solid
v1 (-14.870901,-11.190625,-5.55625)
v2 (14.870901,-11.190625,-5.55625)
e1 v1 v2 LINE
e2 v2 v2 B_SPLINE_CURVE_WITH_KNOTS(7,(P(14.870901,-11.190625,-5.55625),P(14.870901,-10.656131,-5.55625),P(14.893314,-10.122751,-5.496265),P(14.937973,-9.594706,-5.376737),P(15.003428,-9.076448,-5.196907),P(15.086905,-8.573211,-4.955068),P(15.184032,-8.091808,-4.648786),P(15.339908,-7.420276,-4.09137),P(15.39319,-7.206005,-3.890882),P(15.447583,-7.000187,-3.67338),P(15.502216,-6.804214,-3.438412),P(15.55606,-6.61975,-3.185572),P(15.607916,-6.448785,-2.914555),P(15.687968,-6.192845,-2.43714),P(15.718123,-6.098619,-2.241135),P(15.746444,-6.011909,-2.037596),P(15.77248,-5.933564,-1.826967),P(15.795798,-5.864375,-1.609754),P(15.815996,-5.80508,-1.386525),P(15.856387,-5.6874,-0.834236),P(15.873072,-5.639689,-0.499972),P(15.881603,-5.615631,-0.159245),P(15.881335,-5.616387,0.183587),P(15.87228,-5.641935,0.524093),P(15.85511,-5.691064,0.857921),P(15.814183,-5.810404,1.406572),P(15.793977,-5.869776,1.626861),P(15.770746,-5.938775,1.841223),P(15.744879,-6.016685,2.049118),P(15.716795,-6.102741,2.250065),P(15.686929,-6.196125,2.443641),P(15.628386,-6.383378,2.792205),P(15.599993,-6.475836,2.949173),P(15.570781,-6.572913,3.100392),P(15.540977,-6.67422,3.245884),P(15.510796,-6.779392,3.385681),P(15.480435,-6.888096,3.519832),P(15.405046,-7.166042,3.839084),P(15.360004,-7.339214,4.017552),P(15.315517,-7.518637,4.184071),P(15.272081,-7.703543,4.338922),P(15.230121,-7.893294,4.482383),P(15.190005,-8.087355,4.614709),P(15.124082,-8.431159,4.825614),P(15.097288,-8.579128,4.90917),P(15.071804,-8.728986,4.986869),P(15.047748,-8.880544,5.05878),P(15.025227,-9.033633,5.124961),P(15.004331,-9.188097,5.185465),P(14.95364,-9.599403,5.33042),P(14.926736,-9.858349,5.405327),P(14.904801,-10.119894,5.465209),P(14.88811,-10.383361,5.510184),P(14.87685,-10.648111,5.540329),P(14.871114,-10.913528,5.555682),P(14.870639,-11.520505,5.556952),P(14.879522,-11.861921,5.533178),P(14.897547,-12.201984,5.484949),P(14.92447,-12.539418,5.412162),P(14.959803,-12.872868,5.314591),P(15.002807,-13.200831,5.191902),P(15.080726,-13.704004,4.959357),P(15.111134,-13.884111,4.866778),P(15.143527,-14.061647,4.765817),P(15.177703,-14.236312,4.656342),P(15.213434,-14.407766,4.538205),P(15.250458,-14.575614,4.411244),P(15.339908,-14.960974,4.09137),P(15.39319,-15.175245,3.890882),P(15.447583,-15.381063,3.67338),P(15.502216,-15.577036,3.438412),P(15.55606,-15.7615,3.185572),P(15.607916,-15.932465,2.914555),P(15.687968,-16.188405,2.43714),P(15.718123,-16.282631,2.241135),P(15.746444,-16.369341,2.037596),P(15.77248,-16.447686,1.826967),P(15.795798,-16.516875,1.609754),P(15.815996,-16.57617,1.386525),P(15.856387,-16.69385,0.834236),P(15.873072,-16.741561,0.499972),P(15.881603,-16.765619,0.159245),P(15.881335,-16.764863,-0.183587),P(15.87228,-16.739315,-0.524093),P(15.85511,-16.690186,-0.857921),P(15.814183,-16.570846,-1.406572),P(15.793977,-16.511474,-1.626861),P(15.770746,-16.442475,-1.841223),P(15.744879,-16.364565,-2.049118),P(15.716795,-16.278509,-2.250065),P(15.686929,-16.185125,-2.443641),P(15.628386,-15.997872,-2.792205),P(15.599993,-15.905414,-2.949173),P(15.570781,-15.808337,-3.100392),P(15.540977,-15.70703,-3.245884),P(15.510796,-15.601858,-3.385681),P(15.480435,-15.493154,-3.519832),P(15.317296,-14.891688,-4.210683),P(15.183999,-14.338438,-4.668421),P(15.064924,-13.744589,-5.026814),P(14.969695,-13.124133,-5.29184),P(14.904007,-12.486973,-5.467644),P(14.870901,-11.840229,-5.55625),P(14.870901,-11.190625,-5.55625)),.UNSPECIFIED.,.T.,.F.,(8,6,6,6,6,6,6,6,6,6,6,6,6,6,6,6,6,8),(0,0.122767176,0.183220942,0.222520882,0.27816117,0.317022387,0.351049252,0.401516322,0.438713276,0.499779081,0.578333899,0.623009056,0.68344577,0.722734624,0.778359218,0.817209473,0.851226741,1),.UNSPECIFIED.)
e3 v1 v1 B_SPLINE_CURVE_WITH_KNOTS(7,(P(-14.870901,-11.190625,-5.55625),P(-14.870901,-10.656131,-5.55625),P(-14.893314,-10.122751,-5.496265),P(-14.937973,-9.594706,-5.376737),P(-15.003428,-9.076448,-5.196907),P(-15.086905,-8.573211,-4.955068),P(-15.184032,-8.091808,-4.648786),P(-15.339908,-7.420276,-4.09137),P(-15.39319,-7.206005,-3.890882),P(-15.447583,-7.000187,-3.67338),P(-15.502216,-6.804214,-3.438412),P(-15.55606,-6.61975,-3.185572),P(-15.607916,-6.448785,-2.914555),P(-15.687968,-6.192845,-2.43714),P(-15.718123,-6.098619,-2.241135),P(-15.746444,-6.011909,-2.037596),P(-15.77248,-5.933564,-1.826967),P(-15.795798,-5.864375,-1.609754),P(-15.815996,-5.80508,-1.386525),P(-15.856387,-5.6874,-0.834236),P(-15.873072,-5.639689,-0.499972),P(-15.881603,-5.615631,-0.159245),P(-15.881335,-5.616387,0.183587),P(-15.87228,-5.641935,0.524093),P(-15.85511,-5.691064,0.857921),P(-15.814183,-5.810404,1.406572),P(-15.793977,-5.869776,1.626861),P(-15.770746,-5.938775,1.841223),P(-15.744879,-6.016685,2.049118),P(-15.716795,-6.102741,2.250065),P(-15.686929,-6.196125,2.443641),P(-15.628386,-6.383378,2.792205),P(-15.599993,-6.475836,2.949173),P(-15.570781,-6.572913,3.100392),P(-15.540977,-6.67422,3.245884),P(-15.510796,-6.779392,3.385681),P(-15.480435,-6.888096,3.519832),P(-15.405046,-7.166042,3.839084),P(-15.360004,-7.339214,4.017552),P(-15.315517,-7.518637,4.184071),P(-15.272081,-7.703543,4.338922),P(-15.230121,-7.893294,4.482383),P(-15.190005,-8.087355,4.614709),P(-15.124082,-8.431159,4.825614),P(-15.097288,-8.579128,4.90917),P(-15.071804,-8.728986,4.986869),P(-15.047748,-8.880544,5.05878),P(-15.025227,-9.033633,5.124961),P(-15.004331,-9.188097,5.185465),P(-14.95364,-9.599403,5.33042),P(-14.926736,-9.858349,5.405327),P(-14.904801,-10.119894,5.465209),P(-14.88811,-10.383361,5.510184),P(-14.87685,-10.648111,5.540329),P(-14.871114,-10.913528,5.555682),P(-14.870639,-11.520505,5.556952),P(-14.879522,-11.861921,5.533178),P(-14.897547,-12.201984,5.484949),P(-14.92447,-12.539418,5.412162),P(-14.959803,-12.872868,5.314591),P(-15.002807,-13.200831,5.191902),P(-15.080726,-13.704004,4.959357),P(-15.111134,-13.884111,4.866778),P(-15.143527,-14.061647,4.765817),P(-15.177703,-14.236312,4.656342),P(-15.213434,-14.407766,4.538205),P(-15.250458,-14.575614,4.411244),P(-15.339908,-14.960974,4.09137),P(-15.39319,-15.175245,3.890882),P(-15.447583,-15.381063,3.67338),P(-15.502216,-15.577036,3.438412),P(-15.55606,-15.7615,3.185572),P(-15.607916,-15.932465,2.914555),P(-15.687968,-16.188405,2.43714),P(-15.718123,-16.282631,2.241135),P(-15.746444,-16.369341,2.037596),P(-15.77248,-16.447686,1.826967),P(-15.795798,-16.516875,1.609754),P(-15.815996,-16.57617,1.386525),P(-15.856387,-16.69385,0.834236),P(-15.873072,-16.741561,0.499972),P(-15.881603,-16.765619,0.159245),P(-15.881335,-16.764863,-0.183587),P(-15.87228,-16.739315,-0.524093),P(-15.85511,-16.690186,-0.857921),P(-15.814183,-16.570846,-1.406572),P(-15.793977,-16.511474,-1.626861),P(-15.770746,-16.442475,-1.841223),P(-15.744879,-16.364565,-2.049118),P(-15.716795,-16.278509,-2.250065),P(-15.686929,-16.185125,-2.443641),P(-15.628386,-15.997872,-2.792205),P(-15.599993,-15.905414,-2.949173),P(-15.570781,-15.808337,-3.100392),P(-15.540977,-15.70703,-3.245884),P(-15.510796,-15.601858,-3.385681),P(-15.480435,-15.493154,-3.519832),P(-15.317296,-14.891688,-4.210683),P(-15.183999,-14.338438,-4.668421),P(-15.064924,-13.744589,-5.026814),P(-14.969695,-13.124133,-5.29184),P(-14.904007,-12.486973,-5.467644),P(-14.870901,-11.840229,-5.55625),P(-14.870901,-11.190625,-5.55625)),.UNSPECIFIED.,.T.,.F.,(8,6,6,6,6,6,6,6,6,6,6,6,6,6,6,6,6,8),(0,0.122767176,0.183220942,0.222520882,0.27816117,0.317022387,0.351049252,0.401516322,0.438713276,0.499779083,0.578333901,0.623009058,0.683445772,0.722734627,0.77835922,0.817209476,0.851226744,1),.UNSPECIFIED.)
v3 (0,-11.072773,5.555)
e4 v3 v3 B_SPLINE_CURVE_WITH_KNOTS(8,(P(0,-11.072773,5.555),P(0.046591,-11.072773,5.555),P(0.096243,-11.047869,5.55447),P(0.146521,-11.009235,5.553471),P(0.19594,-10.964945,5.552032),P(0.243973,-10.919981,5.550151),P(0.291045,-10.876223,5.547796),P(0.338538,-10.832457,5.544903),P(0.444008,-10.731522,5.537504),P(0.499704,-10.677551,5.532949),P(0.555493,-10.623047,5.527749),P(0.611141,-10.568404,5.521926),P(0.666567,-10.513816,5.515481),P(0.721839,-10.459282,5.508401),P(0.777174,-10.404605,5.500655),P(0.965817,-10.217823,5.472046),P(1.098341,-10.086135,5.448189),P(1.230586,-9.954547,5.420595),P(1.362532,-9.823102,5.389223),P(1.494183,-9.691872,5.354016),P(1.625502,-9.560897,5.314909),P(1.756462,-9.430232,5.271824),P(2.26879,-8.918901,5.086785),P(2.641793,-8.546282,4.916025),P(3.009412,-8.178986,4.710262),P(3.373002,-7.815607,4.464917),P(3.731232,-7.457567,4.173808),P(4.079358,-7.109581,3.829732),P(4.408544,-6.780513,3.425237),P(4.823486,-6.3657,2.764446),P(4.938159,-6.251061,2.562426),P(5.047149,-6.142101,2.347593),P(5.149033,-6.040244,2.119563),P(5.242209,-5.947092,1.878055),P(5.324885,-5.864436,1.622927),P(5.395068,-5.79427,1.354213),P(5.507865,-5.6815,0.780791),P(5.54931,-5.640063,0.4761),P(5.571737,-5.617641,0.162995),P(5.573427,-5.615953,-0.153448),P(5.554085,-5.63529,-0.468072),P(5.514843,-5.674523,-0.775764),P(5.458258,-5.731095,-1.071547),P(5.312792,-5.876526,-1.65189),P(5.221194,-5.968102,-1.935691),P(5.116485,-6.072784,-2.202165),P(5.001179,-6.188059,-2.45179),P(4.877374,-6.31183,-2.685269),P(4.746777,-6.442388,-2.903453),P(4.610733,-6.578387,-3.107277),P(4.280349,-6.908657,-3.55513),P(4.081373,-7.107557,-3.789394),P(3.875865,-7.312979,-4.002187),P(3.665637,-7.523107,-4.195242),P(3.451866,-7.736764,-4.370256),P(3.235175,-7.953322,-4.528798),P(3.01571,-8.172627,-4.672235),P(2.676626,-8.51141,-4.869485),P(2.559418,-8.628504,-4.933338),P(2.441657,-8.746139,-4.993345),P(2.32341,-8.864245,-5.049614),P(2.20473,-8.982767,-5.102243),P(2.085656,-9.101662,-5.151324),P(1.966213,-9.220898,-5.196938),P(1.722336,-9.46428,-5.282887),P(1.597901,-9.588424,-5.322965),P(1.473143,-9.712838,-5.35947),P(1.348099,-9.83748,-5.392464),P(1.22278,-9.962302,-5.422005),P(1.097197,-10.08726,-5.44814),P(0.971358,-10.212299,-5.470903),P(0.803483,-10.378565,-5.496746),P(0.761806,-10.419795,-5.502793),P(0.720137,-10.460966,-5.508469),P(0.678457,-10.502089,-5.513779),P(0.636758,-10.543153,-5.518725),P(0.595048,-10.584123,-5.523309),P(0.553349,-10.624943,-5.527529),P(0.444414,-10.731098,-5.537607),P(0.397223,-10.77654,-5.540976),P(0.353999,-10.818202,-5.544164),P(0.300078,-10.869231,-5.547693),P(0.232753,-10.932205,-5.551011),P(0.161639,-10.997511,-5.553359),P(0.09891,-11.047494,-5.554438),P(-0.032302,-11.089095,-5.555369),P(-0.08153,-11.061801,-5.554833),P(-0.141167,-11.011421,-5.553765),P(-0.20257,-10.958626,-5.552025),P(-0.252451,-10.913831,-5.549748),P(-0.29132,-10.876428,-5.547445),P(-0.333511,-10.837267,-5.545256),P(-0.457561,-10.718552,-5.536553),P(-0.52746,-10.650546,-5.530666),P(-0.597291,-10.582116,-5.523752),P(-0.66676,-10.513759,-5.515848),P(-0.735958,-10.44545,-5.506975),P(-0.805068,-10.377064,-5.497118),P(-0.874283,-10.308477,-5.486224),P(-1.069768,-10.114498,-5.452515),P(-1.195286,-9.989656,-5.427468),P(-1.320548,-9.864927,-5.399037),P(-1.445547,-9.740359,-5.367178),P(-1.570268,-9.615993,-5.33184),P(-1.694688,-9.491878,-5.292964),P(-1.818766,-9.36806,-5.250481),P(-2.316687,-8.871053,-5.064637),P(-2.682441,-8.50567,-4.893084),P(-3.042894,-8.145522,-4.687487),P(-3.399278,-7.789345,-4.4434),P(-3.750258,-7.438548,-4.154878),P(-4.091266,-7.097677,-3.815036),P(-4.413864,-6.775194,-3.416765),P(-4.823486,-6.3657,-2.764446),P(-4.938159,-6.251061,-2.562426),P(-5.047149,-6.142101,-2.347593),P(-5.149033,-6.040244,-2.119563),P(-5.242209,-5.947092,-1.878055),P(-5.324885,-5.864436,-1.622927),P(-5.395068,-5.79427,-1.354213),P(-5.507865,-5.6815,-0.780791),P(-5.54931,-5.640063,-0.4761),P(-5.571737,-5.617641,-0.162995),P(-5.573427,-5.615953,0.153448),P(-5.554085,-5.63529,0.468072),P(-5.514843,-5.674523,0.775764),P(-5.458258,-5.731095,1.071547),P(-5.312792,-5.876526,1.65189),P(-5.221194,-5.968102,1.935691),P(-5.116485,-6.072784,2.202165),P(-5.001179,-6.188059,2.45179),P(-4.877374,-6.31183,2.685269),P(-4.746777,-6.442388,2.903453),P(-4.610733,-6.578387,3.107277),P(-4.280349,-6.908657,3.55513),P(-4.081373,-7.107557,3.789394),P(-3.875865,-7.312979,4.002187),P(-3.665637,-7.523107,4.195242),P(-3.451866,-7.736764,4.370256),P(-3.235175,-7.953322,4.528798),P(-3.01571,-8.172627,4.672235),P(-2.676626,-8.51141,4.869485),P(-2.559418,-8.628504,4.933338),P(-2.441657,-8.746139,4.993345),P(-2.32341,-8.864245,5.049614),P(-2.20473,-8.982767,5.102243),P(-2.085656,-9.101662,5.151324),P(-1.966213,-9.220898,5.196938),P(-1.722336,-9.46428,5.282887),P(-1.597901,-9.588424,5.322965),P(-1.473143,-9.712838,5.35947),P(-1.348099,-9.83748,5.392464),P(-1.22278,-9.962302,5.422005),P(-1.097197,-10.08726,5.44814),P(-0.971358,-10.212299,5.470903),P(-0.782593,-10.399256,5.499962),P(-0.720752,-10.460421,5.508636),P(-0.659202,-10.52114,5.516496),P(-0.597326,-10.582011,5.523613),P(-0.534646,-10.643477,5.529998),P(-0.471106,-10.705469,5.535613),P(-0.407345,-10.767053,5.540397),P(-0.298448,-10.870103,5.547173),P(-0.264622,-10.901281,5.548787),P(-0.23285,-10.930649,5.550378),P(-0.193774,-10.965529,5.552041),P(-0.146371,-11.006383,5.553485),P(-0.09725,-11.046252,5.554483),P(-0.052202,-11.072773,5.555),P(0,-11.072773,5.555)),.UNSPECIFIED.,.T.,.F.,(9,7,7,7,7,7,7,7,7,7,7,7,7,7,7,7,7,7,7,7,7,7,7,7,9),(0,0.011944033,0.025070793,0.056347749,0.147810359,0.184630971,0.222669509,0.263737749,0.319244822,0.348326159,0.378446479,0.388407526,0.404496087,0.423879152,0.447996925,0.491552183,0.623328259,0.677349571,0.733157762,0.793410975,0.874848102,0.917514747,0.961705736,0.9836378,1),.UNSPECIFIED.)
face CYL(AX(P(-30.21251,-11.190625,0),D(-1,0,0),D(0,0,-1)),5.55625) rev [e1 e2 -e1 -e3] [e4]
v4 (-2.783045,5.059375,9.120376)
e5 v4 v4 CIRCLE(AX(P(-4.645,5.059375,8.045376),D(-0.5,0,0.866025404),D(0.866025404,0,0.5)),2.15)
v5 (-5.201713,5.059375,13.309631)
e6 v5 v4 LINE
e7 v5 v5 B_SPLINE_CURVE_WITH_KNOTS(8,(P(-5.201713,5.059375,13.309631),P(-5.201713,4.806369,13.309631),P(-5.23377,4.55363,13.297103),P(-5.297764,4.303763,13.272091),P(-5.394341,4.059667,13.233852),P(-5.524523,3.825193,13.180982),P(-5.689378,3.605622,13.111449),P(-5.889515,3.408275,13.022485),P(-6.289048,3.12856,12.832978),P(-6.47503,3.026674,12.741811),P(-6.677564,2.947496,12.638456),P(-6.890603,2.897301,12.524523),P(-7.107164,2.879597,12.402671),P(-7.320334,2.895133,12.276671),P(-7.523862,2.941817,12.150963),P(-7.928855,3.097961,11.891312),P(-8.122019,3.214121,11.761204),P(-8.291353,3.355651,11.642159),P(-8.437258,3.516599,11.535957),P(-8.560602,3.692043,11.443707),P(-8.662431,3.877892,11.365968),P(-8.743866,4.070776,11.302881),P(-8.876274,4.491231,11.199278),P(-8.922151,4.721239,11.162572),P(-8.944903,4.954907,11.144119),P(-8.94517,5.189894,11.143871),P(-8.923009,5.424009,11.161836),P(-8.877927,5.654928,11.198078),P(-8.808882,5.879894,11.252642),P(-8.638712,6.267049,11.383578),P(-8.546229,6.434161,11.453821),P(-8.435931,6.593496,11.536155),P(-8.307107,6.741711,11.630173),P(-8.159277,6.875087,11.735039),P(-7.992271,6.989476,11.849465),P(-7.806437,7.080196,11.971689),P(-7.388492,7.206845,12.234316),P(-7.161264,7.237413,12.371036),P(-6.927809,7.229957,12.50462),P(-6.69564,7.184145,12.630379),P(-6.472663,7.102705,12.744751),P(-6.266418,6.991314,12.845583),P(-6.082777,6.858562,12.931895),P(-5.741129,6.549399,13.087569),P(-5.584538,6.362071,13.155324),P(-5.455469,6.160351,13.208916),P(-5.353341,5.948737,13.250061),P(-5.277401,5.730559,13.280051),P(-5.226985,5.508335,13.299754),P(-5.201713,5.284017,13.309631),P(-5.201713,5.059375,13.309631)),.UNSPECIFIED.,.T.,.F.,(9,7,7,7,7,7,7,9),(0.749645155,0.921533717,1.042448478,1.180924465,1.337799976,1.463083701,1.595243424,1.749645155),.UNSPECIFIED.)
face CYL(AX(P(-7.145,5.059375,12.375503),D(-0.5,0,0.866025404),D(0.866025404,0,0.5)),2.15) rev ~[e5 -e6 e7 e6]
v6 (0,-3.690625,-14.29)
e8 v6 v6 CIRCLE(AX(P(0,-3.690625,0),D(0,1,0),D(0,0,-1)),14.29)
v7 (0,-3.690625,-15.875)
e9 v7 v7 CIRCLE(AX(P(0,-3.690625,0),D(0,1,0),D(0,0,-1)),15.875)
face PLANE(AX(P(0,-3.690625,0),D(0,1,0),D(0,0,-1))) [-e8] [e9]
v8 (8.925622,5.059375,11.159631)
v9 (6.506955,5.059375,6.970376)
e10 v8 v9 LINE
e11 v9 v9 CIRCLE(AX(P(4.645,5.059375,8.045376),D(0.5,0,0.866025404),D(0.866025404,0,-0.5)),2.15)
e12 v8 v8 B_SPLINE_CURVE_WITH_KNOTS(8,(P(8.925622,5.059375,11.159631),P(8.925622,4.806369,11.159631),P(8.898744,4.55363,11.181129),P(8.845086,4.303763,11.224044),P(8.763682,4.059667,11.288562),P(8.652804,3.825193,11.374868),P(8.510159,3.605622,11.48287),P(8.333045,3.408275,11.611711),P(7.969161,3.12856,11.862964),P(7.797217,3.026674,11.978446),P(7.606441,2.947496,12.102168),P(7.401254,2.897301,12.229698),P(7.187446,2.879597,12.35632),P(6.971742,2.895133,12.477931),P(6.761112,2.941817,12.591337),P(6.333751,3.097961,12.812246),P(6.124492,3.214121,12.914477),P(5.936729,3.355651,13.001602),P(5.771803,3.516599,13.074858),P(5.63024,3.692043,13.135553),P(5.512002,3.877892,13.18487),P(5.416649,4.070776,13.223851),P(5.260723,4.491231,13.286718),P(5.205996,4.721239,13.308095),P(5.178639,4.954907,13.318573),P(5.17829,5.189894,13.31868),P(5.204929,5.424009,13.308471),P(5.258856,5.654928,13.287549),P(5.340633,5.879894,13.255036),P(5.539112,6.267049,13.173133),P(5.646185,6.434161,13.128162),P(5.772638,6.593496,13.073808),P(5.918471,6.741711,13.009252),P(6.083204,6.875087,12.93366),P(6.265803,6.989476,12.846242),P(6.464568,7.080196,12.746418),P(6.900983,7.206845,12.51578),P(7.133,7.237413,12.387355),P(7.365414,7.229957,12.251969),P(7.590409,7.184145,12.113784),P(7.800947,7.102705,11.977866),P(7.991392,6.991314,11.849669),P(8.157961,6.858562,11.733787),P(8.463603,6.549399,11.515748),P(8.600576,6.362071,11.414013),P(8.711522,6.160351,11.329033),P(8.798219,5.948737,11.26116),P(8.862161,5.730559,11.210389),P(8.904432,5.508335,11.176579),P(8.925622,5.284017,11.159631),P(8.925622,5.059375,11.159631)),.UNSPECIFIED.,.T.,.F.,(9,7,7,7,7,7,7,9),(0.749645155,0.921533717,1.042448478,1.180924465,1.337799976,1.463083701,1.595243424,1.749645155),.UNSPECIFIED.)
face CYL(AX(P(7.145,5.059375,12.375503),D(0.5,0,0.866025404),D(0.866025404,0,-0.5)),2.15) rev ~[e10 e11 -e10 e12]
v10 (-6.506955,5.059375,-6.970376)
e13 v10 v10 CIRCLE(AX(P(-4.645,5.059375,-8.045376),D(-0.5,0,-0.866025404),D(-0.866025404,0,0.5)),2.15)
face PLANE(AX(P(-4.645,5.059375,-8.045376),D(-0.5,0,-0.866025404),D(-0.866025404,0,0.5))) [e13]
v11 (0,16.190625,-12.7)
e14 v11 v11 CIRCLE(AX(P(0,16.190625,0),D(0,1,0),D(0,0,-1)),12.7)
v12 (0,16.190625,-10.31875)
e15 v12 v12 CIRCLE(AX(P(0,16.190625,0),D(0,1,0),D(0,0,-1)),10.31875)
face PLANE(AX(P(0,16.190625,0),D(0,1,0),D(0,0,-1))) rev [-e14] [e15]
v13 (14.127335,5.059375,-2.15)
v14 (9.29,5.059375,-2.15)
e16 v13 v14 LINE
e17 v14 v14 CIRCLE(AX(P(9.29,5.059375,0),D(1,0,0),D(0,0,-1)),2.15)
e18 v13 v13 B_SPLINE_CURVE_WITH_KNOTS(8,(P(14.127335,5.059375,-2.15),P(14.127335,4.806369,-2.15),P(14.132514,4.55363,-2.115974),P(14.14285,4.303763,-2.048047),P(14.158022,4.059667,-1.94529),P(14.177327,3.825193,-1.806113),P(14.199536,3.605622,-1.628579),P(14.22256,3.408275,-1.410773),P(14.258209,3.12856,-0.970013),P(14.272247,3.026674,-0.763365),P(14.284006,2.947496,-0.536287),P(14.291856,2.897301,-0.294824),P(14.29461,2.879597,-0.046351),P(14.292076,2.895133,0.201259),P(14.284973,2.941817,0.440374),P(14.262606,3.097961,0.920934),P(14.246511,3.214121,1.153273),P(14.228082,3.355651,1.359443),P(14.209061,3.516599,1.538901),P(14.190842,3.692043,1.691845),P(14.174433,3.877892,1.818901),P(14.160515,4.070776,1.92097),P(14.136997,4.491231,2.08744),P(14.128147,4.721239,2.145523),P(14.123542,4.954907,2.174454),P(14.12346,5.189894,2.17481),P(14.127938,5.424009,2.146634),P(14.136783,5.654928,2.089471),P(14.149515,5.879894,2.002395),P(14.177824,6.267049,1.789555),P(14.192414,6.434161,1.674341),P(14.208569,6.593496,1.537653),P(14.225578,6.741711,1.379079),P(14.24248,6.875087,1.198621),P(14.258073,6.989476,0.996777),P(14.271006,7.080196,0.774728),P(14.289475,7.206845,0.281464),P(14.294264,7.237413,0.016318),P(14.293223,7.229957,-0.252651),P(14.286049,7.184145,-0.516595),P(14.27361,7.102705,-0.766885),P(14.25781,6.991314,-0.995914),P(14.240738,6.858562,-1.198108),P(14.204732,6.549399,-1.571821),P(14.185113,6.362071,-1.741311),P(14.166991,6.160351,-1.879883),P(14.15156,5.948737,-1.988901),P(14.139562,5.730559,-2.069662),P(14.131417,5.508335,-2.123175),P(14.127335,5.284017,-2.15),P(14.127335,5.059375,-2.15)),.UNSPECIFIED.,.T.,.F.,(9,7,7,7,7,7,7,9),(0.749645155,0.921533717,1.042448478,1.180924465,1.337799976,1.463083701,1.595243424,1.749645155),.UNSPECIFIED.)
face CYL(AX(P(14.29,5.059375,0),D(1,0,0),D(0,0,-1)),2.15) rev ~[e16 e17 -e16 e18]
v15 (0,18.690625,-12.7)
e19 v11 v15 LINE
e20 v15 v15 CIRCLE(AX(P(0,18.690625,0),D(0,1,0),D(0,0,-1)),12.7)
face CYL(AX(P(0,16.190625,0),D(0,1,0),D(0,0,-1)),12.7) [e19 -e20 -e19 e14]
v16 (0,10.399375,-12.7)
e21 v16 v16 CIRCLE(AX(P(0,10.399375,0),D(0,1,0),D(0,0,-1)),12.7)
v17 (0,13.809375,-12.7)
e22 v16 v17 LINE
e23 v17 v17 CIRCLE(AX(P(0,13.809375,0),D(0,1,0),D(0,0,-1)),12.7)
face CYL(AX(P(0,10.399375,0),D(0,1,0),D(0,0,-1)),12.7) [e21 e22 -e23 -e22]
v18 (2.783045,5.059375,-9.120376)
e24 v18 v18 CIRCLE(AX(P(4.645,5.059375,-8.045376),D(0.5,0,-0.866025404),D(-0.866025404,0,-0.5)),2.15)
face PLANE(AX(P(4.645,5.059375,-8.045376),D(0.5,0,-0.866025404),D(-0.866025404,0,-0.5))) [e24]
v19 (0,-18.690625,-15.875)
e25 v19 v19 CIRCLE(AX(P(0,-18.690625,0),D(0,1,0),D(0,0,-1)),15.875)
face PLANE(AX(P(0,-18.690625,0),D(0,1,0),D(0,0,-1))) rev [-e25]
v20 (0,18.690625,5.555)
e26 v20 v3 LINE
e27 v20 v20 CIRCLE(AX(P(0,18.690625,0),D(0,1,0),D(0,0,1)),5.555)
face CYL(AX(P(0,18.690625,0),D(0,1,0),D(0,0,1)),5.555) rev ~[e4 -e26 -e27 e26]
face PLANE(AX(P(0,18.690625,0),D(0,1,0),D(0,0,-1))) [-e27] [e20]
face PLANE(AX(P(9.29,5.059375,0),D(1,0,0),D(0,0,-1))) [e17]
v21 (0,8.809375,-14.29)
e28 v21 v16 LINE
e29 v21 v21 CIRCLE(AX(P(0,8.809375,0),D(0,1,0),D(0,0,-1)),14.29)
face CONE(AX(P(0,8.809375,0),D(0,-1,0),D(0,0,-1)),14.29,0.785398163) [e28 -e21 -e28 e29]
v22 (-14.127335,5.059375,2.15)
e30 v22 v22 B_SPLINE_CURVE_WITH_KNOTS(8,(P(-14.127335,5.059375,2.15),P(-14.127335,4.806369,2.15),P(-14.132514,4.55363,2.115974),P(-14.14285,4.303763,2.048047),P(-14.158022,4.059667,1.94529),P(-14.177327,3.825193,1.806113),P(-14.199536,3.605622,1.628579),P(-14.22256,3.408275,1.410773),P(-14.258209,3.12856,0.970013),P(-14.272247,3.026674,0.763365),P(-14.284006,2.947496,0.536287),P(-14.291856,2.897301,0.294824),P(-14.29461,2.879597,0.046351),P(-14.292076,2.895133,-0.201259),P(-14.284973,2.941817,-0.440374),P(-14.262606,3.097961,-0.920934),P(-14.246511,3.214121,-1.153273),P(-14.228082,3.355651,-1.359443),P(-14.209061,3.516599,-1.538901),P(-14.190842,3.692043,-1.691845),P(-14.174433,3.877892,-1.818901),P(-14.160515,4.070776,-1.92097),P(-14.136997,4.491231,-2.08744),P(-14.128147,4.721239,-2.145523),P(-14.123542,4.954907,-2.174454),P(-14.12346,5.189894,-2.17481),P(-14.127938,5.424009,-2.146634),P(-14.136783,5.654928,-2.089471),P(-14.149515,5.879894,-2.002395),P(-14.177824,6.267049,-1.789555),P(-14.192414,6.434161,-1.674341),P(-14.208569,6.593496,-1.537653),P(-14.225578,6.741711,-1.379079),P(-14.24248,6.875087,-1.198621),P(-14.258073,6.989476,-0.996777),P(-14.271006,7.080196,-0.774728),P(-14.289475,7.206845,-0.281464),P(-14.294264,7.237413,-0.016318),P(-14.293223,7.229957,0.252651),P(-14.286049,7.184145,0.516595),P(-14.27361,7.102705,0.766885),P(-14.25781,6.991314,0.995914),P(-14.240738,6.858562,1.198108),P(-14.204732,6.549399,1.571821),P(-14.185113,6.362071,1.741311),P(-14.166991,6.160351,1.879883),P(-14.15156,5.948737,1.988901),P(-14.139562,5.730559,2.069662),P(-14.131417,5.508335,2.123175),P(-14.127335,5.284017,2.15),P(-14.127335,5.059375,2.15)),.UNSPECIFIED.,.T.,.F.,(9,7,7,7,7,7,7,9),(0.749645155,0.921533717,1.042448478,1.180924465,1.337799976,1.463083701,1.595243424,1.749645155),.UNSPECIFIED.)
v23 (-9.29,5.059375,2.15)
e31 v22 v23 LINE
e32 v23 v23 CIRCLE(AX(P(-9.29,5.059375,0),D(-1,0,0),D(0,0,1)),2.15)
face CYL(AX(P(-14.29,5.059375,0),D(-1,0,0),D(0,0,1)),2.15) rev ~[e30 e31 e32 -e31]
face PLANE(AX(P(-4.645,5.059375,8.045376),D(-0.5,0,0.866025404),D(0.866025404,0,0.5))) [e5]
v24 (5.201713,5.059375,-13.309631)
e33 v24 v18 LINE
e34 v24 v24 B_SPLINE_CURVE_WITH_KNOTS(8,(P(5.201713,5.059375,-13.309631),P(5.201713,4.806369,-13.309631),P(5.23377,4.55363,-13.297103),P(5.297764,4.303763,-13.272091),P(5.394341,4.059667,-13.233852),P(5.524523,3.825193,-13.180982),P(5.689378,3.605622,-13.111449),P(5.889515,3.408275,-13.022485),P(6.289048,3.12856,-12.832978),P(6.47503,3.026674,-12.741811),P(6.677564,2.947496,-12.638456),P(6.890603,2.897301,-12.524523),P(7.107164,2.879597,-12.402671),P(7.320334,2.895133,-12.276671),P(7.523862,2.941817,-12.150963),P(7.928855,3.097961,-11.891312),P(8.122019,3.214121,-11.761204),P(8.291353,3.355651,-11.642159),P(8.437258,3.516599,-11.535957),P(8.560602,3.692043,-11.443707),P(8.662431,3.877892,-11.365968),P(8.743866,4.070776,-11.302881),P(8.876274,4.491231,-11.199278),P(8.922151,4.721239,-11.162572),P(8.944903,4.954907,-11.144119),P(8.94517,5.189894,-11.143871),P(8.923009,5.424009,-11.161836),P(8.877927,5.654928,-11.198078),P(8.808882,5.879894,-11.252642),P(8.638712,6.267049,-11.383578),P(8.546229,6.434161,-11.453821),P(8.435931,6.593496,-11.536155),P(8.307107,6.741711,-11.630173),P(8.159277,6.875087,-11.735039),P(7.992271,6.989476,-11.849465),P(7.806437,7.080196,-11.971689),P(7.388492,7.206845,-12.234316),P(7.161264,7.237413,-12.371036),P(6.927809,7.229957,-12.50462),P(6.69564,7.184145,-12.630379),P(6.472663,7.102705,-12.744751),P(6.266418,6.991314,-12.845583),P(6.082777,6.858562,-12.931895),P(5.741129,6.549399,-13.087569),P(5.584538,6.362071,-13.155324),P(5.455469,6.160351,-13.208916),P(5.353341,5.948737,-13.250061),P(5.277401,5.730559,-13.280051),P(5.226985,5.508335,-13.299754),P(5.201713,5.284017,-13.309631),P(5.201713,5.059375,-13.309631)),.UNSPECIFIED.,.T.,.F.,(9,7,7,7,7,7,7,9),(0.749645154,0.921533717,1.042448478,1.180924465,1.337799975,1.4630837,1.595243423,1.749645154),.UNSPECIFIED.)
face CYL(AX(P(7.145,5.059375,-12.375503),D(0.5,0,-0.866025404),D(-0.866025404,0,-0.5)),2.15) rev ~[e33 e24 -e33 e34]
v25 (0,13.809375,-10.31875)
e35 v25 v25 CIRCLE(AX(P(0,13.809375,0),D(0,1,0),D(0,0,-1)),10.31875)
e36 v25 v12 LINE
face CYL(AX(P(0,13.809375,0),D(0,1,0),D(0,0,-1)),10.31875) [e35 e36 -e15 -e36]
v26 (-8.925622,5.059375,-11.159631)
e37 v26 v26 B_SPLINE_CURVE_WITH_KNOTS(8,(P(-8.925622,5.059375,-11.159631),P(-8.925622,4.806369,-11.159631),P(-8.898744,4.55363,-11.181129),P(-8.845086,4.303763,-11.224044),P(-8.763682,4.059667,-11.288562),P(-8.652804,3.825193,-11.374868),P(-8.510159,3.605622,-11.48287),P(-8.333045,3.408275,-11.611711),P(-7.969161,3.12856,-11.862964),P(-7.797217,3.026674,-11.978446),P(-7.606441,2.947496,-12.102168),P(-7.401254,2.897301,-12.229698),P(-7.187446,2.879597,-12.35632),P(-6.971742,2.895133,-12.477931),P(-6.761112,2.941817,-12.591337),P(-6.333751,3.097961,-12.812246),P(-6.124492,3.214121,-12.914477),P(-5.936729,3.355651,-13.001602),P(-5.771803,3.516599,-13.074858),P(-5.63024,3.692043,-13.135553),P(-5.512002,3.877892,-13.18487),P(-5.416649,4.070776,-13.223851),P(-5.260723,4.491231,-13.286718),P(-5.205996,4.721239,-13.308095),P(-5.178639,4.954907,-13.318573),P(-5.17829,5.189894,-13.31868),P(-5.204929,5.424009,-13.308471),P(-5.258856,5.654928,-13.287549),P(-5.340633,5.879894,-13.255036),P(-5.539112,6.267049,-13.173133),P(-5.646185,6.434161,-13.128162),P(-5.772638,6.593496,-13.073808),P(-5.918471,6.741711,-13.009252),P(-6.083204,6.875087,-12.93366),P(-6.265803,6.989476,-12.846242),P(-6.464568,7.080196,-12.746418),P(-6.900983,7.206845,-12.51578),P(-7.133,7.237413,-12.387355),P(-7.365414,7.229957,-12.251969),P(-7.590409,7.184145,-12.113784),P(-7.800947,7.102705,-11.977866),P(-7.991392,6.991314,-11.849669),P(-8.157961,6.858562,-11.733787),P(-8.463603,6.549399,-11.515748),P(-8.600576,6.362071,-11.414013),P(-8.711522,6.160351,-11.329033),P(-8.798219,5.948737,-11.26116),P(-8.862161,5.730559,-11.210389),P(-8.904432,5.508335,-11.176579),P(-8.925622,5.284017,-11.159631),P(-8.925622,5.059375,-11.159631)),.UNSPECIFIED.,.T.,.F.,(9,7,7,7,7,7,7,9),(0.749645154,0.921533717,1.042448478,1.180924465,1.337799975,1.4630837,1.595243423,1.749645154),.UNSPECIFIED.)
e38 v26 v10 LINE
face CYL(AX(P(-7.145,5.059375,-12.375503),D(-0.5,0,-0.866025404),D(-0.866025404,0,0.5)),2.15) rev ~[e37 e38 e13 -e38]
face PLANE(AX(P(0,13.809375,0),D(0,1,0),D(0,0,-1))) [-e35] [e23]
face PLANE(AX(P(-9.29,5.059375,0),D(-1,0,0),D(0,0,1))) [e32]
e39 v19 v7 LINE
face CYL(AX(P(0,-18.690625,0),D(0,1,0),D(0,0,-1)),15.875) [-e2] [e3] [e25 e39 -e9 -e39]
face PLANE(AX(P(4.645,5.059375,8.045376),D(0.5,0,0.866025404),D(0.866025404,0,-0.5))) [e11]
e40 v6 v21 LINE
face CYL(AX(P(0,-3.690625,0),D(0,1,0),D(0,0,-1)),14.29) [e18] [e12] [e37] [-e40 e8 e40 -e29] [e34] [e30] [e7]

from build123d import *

# Parameters (mm, degrees)
CUT_EXTRUDE1_DEPTH      = 30.212509527
CUT_EXTRUDE1_DEPTH_BACK = 30.212509527
SKETCH2_R               = 5.55625
SKETCH4_R               = 2.15
CUT_EXTRUDE3_DEPTH      = 5
CIRPATTERN1_COUNT       = 6
CUT_EXTRUDE4_REACH      = 45.605
CUT_EXTRUDE4_END_RADIUS = 5.55625
SKETCH6_R               = 5.555


with BuildPart() as part:
    # Sketch1 → Revolve1 (revolve)
    with BuildSketch(Plane.XY, mode=Mode.PRIVATE) as revolve1_sk:
        Polygon((0, -18.690625), (15.875, -18.690625), (15.875, -3.690625), (14.29, -3.690625), (14.29, 8.809375), (12.7, 10.399375), (12.7, 13.809375), (10.31875, 13.809375), (10.31875, 16.190625), (12.7, 16.190625), (12.7, 18.690625), (0, 18.690625), align=None)
    revolve(revolve1_sk.sketch.rotate(Axis((0, -8.095014715, 0), (0, 1, 0)), 90), axis=Axis((0, -8.095014715, 0), (0, 1, 0)))

    # Sketch2 → Cut-Extrude1 (cut, two sides: drawn at the far end of the back side and taken through both)
    with BuildSketch(Plane(origin=(0, 0, 0), x_dir=(0, 0, -1), z_dir=(1, 0, 0)).offset(-CUT_EXTRUDE1_DEPTH_BACK)):
        with Locations((0, -11.190625)):
            Circle(SKETCH2_R)
    extrude(amount=CUT_EXTRUDE1_DEPTH + CUT_EXTRUDE1_DEPTH_BACK, mode=Mode.SUBTRACT)

    # Sketch4 → Cut-Extrude3 (cut)
    with BuildSketch(Plane(origin=(14.29, 0, 0), x_dir=(0, 0, -1), z_dir=(1, 0, 0))):
        with Locations((0, 5.059375)):
            Circle(SKETCH4_R)
    cut_extrude3 = extrude(amount=-CUT_EXTRUDE3_DEPTH, mode=Mode.SUBTRACT)

    # CirPattern1: Cut-Extrude3 ×6 about axis
    cirpattern1_axis = Axis((0, 0, 0), (0, 1, 0))
    for i in range(1, CIRPATTERN1_COUNT):
        add(cut_extrude3.rotate(cirpattern1_axis, i * 360 / CIRPATTERN1_COUNT), mode=Mode.SUBTRACT)

    # Cut-Extrude4: up to this cylinder (the profile starts outside it)
    cut_extrude4_end = Plane(origin=(0, -11.190625, 0), z_dir=(1, 0, 0)) * Cylinder(CUT_EXTRUDE4_END_RADIUS, 103.3225, mode=Mode.PRIVATE)
    # Sketch6 → Cut-Extrude4 (cut, up to the surface)
    with BuildSketch(Plane(origin=(0, 18.690625, 0), x_dir=(1, 0, 0), z_dir=(0, 1, 0)), mode=Mode.PRIVATE) as cut_extrude4_sk1:
        with Locations(Location((0, 0, 0), (0, 0, 270))):
            Circle(SKETCH6_R)
    cut_extrude4_tool1 = extrude(cut_extrude4_sk1.sketch, amount=-CUT_EXTRUDE4_REACH, mode=Mode.PRIVATE) - cut_extrude4_end
    add(cut_extrude4_tool1.solids().sort_by_distance((0, 18.690625, 0))[0], mode=Mode.SUBTRACT)


solid = part.part
